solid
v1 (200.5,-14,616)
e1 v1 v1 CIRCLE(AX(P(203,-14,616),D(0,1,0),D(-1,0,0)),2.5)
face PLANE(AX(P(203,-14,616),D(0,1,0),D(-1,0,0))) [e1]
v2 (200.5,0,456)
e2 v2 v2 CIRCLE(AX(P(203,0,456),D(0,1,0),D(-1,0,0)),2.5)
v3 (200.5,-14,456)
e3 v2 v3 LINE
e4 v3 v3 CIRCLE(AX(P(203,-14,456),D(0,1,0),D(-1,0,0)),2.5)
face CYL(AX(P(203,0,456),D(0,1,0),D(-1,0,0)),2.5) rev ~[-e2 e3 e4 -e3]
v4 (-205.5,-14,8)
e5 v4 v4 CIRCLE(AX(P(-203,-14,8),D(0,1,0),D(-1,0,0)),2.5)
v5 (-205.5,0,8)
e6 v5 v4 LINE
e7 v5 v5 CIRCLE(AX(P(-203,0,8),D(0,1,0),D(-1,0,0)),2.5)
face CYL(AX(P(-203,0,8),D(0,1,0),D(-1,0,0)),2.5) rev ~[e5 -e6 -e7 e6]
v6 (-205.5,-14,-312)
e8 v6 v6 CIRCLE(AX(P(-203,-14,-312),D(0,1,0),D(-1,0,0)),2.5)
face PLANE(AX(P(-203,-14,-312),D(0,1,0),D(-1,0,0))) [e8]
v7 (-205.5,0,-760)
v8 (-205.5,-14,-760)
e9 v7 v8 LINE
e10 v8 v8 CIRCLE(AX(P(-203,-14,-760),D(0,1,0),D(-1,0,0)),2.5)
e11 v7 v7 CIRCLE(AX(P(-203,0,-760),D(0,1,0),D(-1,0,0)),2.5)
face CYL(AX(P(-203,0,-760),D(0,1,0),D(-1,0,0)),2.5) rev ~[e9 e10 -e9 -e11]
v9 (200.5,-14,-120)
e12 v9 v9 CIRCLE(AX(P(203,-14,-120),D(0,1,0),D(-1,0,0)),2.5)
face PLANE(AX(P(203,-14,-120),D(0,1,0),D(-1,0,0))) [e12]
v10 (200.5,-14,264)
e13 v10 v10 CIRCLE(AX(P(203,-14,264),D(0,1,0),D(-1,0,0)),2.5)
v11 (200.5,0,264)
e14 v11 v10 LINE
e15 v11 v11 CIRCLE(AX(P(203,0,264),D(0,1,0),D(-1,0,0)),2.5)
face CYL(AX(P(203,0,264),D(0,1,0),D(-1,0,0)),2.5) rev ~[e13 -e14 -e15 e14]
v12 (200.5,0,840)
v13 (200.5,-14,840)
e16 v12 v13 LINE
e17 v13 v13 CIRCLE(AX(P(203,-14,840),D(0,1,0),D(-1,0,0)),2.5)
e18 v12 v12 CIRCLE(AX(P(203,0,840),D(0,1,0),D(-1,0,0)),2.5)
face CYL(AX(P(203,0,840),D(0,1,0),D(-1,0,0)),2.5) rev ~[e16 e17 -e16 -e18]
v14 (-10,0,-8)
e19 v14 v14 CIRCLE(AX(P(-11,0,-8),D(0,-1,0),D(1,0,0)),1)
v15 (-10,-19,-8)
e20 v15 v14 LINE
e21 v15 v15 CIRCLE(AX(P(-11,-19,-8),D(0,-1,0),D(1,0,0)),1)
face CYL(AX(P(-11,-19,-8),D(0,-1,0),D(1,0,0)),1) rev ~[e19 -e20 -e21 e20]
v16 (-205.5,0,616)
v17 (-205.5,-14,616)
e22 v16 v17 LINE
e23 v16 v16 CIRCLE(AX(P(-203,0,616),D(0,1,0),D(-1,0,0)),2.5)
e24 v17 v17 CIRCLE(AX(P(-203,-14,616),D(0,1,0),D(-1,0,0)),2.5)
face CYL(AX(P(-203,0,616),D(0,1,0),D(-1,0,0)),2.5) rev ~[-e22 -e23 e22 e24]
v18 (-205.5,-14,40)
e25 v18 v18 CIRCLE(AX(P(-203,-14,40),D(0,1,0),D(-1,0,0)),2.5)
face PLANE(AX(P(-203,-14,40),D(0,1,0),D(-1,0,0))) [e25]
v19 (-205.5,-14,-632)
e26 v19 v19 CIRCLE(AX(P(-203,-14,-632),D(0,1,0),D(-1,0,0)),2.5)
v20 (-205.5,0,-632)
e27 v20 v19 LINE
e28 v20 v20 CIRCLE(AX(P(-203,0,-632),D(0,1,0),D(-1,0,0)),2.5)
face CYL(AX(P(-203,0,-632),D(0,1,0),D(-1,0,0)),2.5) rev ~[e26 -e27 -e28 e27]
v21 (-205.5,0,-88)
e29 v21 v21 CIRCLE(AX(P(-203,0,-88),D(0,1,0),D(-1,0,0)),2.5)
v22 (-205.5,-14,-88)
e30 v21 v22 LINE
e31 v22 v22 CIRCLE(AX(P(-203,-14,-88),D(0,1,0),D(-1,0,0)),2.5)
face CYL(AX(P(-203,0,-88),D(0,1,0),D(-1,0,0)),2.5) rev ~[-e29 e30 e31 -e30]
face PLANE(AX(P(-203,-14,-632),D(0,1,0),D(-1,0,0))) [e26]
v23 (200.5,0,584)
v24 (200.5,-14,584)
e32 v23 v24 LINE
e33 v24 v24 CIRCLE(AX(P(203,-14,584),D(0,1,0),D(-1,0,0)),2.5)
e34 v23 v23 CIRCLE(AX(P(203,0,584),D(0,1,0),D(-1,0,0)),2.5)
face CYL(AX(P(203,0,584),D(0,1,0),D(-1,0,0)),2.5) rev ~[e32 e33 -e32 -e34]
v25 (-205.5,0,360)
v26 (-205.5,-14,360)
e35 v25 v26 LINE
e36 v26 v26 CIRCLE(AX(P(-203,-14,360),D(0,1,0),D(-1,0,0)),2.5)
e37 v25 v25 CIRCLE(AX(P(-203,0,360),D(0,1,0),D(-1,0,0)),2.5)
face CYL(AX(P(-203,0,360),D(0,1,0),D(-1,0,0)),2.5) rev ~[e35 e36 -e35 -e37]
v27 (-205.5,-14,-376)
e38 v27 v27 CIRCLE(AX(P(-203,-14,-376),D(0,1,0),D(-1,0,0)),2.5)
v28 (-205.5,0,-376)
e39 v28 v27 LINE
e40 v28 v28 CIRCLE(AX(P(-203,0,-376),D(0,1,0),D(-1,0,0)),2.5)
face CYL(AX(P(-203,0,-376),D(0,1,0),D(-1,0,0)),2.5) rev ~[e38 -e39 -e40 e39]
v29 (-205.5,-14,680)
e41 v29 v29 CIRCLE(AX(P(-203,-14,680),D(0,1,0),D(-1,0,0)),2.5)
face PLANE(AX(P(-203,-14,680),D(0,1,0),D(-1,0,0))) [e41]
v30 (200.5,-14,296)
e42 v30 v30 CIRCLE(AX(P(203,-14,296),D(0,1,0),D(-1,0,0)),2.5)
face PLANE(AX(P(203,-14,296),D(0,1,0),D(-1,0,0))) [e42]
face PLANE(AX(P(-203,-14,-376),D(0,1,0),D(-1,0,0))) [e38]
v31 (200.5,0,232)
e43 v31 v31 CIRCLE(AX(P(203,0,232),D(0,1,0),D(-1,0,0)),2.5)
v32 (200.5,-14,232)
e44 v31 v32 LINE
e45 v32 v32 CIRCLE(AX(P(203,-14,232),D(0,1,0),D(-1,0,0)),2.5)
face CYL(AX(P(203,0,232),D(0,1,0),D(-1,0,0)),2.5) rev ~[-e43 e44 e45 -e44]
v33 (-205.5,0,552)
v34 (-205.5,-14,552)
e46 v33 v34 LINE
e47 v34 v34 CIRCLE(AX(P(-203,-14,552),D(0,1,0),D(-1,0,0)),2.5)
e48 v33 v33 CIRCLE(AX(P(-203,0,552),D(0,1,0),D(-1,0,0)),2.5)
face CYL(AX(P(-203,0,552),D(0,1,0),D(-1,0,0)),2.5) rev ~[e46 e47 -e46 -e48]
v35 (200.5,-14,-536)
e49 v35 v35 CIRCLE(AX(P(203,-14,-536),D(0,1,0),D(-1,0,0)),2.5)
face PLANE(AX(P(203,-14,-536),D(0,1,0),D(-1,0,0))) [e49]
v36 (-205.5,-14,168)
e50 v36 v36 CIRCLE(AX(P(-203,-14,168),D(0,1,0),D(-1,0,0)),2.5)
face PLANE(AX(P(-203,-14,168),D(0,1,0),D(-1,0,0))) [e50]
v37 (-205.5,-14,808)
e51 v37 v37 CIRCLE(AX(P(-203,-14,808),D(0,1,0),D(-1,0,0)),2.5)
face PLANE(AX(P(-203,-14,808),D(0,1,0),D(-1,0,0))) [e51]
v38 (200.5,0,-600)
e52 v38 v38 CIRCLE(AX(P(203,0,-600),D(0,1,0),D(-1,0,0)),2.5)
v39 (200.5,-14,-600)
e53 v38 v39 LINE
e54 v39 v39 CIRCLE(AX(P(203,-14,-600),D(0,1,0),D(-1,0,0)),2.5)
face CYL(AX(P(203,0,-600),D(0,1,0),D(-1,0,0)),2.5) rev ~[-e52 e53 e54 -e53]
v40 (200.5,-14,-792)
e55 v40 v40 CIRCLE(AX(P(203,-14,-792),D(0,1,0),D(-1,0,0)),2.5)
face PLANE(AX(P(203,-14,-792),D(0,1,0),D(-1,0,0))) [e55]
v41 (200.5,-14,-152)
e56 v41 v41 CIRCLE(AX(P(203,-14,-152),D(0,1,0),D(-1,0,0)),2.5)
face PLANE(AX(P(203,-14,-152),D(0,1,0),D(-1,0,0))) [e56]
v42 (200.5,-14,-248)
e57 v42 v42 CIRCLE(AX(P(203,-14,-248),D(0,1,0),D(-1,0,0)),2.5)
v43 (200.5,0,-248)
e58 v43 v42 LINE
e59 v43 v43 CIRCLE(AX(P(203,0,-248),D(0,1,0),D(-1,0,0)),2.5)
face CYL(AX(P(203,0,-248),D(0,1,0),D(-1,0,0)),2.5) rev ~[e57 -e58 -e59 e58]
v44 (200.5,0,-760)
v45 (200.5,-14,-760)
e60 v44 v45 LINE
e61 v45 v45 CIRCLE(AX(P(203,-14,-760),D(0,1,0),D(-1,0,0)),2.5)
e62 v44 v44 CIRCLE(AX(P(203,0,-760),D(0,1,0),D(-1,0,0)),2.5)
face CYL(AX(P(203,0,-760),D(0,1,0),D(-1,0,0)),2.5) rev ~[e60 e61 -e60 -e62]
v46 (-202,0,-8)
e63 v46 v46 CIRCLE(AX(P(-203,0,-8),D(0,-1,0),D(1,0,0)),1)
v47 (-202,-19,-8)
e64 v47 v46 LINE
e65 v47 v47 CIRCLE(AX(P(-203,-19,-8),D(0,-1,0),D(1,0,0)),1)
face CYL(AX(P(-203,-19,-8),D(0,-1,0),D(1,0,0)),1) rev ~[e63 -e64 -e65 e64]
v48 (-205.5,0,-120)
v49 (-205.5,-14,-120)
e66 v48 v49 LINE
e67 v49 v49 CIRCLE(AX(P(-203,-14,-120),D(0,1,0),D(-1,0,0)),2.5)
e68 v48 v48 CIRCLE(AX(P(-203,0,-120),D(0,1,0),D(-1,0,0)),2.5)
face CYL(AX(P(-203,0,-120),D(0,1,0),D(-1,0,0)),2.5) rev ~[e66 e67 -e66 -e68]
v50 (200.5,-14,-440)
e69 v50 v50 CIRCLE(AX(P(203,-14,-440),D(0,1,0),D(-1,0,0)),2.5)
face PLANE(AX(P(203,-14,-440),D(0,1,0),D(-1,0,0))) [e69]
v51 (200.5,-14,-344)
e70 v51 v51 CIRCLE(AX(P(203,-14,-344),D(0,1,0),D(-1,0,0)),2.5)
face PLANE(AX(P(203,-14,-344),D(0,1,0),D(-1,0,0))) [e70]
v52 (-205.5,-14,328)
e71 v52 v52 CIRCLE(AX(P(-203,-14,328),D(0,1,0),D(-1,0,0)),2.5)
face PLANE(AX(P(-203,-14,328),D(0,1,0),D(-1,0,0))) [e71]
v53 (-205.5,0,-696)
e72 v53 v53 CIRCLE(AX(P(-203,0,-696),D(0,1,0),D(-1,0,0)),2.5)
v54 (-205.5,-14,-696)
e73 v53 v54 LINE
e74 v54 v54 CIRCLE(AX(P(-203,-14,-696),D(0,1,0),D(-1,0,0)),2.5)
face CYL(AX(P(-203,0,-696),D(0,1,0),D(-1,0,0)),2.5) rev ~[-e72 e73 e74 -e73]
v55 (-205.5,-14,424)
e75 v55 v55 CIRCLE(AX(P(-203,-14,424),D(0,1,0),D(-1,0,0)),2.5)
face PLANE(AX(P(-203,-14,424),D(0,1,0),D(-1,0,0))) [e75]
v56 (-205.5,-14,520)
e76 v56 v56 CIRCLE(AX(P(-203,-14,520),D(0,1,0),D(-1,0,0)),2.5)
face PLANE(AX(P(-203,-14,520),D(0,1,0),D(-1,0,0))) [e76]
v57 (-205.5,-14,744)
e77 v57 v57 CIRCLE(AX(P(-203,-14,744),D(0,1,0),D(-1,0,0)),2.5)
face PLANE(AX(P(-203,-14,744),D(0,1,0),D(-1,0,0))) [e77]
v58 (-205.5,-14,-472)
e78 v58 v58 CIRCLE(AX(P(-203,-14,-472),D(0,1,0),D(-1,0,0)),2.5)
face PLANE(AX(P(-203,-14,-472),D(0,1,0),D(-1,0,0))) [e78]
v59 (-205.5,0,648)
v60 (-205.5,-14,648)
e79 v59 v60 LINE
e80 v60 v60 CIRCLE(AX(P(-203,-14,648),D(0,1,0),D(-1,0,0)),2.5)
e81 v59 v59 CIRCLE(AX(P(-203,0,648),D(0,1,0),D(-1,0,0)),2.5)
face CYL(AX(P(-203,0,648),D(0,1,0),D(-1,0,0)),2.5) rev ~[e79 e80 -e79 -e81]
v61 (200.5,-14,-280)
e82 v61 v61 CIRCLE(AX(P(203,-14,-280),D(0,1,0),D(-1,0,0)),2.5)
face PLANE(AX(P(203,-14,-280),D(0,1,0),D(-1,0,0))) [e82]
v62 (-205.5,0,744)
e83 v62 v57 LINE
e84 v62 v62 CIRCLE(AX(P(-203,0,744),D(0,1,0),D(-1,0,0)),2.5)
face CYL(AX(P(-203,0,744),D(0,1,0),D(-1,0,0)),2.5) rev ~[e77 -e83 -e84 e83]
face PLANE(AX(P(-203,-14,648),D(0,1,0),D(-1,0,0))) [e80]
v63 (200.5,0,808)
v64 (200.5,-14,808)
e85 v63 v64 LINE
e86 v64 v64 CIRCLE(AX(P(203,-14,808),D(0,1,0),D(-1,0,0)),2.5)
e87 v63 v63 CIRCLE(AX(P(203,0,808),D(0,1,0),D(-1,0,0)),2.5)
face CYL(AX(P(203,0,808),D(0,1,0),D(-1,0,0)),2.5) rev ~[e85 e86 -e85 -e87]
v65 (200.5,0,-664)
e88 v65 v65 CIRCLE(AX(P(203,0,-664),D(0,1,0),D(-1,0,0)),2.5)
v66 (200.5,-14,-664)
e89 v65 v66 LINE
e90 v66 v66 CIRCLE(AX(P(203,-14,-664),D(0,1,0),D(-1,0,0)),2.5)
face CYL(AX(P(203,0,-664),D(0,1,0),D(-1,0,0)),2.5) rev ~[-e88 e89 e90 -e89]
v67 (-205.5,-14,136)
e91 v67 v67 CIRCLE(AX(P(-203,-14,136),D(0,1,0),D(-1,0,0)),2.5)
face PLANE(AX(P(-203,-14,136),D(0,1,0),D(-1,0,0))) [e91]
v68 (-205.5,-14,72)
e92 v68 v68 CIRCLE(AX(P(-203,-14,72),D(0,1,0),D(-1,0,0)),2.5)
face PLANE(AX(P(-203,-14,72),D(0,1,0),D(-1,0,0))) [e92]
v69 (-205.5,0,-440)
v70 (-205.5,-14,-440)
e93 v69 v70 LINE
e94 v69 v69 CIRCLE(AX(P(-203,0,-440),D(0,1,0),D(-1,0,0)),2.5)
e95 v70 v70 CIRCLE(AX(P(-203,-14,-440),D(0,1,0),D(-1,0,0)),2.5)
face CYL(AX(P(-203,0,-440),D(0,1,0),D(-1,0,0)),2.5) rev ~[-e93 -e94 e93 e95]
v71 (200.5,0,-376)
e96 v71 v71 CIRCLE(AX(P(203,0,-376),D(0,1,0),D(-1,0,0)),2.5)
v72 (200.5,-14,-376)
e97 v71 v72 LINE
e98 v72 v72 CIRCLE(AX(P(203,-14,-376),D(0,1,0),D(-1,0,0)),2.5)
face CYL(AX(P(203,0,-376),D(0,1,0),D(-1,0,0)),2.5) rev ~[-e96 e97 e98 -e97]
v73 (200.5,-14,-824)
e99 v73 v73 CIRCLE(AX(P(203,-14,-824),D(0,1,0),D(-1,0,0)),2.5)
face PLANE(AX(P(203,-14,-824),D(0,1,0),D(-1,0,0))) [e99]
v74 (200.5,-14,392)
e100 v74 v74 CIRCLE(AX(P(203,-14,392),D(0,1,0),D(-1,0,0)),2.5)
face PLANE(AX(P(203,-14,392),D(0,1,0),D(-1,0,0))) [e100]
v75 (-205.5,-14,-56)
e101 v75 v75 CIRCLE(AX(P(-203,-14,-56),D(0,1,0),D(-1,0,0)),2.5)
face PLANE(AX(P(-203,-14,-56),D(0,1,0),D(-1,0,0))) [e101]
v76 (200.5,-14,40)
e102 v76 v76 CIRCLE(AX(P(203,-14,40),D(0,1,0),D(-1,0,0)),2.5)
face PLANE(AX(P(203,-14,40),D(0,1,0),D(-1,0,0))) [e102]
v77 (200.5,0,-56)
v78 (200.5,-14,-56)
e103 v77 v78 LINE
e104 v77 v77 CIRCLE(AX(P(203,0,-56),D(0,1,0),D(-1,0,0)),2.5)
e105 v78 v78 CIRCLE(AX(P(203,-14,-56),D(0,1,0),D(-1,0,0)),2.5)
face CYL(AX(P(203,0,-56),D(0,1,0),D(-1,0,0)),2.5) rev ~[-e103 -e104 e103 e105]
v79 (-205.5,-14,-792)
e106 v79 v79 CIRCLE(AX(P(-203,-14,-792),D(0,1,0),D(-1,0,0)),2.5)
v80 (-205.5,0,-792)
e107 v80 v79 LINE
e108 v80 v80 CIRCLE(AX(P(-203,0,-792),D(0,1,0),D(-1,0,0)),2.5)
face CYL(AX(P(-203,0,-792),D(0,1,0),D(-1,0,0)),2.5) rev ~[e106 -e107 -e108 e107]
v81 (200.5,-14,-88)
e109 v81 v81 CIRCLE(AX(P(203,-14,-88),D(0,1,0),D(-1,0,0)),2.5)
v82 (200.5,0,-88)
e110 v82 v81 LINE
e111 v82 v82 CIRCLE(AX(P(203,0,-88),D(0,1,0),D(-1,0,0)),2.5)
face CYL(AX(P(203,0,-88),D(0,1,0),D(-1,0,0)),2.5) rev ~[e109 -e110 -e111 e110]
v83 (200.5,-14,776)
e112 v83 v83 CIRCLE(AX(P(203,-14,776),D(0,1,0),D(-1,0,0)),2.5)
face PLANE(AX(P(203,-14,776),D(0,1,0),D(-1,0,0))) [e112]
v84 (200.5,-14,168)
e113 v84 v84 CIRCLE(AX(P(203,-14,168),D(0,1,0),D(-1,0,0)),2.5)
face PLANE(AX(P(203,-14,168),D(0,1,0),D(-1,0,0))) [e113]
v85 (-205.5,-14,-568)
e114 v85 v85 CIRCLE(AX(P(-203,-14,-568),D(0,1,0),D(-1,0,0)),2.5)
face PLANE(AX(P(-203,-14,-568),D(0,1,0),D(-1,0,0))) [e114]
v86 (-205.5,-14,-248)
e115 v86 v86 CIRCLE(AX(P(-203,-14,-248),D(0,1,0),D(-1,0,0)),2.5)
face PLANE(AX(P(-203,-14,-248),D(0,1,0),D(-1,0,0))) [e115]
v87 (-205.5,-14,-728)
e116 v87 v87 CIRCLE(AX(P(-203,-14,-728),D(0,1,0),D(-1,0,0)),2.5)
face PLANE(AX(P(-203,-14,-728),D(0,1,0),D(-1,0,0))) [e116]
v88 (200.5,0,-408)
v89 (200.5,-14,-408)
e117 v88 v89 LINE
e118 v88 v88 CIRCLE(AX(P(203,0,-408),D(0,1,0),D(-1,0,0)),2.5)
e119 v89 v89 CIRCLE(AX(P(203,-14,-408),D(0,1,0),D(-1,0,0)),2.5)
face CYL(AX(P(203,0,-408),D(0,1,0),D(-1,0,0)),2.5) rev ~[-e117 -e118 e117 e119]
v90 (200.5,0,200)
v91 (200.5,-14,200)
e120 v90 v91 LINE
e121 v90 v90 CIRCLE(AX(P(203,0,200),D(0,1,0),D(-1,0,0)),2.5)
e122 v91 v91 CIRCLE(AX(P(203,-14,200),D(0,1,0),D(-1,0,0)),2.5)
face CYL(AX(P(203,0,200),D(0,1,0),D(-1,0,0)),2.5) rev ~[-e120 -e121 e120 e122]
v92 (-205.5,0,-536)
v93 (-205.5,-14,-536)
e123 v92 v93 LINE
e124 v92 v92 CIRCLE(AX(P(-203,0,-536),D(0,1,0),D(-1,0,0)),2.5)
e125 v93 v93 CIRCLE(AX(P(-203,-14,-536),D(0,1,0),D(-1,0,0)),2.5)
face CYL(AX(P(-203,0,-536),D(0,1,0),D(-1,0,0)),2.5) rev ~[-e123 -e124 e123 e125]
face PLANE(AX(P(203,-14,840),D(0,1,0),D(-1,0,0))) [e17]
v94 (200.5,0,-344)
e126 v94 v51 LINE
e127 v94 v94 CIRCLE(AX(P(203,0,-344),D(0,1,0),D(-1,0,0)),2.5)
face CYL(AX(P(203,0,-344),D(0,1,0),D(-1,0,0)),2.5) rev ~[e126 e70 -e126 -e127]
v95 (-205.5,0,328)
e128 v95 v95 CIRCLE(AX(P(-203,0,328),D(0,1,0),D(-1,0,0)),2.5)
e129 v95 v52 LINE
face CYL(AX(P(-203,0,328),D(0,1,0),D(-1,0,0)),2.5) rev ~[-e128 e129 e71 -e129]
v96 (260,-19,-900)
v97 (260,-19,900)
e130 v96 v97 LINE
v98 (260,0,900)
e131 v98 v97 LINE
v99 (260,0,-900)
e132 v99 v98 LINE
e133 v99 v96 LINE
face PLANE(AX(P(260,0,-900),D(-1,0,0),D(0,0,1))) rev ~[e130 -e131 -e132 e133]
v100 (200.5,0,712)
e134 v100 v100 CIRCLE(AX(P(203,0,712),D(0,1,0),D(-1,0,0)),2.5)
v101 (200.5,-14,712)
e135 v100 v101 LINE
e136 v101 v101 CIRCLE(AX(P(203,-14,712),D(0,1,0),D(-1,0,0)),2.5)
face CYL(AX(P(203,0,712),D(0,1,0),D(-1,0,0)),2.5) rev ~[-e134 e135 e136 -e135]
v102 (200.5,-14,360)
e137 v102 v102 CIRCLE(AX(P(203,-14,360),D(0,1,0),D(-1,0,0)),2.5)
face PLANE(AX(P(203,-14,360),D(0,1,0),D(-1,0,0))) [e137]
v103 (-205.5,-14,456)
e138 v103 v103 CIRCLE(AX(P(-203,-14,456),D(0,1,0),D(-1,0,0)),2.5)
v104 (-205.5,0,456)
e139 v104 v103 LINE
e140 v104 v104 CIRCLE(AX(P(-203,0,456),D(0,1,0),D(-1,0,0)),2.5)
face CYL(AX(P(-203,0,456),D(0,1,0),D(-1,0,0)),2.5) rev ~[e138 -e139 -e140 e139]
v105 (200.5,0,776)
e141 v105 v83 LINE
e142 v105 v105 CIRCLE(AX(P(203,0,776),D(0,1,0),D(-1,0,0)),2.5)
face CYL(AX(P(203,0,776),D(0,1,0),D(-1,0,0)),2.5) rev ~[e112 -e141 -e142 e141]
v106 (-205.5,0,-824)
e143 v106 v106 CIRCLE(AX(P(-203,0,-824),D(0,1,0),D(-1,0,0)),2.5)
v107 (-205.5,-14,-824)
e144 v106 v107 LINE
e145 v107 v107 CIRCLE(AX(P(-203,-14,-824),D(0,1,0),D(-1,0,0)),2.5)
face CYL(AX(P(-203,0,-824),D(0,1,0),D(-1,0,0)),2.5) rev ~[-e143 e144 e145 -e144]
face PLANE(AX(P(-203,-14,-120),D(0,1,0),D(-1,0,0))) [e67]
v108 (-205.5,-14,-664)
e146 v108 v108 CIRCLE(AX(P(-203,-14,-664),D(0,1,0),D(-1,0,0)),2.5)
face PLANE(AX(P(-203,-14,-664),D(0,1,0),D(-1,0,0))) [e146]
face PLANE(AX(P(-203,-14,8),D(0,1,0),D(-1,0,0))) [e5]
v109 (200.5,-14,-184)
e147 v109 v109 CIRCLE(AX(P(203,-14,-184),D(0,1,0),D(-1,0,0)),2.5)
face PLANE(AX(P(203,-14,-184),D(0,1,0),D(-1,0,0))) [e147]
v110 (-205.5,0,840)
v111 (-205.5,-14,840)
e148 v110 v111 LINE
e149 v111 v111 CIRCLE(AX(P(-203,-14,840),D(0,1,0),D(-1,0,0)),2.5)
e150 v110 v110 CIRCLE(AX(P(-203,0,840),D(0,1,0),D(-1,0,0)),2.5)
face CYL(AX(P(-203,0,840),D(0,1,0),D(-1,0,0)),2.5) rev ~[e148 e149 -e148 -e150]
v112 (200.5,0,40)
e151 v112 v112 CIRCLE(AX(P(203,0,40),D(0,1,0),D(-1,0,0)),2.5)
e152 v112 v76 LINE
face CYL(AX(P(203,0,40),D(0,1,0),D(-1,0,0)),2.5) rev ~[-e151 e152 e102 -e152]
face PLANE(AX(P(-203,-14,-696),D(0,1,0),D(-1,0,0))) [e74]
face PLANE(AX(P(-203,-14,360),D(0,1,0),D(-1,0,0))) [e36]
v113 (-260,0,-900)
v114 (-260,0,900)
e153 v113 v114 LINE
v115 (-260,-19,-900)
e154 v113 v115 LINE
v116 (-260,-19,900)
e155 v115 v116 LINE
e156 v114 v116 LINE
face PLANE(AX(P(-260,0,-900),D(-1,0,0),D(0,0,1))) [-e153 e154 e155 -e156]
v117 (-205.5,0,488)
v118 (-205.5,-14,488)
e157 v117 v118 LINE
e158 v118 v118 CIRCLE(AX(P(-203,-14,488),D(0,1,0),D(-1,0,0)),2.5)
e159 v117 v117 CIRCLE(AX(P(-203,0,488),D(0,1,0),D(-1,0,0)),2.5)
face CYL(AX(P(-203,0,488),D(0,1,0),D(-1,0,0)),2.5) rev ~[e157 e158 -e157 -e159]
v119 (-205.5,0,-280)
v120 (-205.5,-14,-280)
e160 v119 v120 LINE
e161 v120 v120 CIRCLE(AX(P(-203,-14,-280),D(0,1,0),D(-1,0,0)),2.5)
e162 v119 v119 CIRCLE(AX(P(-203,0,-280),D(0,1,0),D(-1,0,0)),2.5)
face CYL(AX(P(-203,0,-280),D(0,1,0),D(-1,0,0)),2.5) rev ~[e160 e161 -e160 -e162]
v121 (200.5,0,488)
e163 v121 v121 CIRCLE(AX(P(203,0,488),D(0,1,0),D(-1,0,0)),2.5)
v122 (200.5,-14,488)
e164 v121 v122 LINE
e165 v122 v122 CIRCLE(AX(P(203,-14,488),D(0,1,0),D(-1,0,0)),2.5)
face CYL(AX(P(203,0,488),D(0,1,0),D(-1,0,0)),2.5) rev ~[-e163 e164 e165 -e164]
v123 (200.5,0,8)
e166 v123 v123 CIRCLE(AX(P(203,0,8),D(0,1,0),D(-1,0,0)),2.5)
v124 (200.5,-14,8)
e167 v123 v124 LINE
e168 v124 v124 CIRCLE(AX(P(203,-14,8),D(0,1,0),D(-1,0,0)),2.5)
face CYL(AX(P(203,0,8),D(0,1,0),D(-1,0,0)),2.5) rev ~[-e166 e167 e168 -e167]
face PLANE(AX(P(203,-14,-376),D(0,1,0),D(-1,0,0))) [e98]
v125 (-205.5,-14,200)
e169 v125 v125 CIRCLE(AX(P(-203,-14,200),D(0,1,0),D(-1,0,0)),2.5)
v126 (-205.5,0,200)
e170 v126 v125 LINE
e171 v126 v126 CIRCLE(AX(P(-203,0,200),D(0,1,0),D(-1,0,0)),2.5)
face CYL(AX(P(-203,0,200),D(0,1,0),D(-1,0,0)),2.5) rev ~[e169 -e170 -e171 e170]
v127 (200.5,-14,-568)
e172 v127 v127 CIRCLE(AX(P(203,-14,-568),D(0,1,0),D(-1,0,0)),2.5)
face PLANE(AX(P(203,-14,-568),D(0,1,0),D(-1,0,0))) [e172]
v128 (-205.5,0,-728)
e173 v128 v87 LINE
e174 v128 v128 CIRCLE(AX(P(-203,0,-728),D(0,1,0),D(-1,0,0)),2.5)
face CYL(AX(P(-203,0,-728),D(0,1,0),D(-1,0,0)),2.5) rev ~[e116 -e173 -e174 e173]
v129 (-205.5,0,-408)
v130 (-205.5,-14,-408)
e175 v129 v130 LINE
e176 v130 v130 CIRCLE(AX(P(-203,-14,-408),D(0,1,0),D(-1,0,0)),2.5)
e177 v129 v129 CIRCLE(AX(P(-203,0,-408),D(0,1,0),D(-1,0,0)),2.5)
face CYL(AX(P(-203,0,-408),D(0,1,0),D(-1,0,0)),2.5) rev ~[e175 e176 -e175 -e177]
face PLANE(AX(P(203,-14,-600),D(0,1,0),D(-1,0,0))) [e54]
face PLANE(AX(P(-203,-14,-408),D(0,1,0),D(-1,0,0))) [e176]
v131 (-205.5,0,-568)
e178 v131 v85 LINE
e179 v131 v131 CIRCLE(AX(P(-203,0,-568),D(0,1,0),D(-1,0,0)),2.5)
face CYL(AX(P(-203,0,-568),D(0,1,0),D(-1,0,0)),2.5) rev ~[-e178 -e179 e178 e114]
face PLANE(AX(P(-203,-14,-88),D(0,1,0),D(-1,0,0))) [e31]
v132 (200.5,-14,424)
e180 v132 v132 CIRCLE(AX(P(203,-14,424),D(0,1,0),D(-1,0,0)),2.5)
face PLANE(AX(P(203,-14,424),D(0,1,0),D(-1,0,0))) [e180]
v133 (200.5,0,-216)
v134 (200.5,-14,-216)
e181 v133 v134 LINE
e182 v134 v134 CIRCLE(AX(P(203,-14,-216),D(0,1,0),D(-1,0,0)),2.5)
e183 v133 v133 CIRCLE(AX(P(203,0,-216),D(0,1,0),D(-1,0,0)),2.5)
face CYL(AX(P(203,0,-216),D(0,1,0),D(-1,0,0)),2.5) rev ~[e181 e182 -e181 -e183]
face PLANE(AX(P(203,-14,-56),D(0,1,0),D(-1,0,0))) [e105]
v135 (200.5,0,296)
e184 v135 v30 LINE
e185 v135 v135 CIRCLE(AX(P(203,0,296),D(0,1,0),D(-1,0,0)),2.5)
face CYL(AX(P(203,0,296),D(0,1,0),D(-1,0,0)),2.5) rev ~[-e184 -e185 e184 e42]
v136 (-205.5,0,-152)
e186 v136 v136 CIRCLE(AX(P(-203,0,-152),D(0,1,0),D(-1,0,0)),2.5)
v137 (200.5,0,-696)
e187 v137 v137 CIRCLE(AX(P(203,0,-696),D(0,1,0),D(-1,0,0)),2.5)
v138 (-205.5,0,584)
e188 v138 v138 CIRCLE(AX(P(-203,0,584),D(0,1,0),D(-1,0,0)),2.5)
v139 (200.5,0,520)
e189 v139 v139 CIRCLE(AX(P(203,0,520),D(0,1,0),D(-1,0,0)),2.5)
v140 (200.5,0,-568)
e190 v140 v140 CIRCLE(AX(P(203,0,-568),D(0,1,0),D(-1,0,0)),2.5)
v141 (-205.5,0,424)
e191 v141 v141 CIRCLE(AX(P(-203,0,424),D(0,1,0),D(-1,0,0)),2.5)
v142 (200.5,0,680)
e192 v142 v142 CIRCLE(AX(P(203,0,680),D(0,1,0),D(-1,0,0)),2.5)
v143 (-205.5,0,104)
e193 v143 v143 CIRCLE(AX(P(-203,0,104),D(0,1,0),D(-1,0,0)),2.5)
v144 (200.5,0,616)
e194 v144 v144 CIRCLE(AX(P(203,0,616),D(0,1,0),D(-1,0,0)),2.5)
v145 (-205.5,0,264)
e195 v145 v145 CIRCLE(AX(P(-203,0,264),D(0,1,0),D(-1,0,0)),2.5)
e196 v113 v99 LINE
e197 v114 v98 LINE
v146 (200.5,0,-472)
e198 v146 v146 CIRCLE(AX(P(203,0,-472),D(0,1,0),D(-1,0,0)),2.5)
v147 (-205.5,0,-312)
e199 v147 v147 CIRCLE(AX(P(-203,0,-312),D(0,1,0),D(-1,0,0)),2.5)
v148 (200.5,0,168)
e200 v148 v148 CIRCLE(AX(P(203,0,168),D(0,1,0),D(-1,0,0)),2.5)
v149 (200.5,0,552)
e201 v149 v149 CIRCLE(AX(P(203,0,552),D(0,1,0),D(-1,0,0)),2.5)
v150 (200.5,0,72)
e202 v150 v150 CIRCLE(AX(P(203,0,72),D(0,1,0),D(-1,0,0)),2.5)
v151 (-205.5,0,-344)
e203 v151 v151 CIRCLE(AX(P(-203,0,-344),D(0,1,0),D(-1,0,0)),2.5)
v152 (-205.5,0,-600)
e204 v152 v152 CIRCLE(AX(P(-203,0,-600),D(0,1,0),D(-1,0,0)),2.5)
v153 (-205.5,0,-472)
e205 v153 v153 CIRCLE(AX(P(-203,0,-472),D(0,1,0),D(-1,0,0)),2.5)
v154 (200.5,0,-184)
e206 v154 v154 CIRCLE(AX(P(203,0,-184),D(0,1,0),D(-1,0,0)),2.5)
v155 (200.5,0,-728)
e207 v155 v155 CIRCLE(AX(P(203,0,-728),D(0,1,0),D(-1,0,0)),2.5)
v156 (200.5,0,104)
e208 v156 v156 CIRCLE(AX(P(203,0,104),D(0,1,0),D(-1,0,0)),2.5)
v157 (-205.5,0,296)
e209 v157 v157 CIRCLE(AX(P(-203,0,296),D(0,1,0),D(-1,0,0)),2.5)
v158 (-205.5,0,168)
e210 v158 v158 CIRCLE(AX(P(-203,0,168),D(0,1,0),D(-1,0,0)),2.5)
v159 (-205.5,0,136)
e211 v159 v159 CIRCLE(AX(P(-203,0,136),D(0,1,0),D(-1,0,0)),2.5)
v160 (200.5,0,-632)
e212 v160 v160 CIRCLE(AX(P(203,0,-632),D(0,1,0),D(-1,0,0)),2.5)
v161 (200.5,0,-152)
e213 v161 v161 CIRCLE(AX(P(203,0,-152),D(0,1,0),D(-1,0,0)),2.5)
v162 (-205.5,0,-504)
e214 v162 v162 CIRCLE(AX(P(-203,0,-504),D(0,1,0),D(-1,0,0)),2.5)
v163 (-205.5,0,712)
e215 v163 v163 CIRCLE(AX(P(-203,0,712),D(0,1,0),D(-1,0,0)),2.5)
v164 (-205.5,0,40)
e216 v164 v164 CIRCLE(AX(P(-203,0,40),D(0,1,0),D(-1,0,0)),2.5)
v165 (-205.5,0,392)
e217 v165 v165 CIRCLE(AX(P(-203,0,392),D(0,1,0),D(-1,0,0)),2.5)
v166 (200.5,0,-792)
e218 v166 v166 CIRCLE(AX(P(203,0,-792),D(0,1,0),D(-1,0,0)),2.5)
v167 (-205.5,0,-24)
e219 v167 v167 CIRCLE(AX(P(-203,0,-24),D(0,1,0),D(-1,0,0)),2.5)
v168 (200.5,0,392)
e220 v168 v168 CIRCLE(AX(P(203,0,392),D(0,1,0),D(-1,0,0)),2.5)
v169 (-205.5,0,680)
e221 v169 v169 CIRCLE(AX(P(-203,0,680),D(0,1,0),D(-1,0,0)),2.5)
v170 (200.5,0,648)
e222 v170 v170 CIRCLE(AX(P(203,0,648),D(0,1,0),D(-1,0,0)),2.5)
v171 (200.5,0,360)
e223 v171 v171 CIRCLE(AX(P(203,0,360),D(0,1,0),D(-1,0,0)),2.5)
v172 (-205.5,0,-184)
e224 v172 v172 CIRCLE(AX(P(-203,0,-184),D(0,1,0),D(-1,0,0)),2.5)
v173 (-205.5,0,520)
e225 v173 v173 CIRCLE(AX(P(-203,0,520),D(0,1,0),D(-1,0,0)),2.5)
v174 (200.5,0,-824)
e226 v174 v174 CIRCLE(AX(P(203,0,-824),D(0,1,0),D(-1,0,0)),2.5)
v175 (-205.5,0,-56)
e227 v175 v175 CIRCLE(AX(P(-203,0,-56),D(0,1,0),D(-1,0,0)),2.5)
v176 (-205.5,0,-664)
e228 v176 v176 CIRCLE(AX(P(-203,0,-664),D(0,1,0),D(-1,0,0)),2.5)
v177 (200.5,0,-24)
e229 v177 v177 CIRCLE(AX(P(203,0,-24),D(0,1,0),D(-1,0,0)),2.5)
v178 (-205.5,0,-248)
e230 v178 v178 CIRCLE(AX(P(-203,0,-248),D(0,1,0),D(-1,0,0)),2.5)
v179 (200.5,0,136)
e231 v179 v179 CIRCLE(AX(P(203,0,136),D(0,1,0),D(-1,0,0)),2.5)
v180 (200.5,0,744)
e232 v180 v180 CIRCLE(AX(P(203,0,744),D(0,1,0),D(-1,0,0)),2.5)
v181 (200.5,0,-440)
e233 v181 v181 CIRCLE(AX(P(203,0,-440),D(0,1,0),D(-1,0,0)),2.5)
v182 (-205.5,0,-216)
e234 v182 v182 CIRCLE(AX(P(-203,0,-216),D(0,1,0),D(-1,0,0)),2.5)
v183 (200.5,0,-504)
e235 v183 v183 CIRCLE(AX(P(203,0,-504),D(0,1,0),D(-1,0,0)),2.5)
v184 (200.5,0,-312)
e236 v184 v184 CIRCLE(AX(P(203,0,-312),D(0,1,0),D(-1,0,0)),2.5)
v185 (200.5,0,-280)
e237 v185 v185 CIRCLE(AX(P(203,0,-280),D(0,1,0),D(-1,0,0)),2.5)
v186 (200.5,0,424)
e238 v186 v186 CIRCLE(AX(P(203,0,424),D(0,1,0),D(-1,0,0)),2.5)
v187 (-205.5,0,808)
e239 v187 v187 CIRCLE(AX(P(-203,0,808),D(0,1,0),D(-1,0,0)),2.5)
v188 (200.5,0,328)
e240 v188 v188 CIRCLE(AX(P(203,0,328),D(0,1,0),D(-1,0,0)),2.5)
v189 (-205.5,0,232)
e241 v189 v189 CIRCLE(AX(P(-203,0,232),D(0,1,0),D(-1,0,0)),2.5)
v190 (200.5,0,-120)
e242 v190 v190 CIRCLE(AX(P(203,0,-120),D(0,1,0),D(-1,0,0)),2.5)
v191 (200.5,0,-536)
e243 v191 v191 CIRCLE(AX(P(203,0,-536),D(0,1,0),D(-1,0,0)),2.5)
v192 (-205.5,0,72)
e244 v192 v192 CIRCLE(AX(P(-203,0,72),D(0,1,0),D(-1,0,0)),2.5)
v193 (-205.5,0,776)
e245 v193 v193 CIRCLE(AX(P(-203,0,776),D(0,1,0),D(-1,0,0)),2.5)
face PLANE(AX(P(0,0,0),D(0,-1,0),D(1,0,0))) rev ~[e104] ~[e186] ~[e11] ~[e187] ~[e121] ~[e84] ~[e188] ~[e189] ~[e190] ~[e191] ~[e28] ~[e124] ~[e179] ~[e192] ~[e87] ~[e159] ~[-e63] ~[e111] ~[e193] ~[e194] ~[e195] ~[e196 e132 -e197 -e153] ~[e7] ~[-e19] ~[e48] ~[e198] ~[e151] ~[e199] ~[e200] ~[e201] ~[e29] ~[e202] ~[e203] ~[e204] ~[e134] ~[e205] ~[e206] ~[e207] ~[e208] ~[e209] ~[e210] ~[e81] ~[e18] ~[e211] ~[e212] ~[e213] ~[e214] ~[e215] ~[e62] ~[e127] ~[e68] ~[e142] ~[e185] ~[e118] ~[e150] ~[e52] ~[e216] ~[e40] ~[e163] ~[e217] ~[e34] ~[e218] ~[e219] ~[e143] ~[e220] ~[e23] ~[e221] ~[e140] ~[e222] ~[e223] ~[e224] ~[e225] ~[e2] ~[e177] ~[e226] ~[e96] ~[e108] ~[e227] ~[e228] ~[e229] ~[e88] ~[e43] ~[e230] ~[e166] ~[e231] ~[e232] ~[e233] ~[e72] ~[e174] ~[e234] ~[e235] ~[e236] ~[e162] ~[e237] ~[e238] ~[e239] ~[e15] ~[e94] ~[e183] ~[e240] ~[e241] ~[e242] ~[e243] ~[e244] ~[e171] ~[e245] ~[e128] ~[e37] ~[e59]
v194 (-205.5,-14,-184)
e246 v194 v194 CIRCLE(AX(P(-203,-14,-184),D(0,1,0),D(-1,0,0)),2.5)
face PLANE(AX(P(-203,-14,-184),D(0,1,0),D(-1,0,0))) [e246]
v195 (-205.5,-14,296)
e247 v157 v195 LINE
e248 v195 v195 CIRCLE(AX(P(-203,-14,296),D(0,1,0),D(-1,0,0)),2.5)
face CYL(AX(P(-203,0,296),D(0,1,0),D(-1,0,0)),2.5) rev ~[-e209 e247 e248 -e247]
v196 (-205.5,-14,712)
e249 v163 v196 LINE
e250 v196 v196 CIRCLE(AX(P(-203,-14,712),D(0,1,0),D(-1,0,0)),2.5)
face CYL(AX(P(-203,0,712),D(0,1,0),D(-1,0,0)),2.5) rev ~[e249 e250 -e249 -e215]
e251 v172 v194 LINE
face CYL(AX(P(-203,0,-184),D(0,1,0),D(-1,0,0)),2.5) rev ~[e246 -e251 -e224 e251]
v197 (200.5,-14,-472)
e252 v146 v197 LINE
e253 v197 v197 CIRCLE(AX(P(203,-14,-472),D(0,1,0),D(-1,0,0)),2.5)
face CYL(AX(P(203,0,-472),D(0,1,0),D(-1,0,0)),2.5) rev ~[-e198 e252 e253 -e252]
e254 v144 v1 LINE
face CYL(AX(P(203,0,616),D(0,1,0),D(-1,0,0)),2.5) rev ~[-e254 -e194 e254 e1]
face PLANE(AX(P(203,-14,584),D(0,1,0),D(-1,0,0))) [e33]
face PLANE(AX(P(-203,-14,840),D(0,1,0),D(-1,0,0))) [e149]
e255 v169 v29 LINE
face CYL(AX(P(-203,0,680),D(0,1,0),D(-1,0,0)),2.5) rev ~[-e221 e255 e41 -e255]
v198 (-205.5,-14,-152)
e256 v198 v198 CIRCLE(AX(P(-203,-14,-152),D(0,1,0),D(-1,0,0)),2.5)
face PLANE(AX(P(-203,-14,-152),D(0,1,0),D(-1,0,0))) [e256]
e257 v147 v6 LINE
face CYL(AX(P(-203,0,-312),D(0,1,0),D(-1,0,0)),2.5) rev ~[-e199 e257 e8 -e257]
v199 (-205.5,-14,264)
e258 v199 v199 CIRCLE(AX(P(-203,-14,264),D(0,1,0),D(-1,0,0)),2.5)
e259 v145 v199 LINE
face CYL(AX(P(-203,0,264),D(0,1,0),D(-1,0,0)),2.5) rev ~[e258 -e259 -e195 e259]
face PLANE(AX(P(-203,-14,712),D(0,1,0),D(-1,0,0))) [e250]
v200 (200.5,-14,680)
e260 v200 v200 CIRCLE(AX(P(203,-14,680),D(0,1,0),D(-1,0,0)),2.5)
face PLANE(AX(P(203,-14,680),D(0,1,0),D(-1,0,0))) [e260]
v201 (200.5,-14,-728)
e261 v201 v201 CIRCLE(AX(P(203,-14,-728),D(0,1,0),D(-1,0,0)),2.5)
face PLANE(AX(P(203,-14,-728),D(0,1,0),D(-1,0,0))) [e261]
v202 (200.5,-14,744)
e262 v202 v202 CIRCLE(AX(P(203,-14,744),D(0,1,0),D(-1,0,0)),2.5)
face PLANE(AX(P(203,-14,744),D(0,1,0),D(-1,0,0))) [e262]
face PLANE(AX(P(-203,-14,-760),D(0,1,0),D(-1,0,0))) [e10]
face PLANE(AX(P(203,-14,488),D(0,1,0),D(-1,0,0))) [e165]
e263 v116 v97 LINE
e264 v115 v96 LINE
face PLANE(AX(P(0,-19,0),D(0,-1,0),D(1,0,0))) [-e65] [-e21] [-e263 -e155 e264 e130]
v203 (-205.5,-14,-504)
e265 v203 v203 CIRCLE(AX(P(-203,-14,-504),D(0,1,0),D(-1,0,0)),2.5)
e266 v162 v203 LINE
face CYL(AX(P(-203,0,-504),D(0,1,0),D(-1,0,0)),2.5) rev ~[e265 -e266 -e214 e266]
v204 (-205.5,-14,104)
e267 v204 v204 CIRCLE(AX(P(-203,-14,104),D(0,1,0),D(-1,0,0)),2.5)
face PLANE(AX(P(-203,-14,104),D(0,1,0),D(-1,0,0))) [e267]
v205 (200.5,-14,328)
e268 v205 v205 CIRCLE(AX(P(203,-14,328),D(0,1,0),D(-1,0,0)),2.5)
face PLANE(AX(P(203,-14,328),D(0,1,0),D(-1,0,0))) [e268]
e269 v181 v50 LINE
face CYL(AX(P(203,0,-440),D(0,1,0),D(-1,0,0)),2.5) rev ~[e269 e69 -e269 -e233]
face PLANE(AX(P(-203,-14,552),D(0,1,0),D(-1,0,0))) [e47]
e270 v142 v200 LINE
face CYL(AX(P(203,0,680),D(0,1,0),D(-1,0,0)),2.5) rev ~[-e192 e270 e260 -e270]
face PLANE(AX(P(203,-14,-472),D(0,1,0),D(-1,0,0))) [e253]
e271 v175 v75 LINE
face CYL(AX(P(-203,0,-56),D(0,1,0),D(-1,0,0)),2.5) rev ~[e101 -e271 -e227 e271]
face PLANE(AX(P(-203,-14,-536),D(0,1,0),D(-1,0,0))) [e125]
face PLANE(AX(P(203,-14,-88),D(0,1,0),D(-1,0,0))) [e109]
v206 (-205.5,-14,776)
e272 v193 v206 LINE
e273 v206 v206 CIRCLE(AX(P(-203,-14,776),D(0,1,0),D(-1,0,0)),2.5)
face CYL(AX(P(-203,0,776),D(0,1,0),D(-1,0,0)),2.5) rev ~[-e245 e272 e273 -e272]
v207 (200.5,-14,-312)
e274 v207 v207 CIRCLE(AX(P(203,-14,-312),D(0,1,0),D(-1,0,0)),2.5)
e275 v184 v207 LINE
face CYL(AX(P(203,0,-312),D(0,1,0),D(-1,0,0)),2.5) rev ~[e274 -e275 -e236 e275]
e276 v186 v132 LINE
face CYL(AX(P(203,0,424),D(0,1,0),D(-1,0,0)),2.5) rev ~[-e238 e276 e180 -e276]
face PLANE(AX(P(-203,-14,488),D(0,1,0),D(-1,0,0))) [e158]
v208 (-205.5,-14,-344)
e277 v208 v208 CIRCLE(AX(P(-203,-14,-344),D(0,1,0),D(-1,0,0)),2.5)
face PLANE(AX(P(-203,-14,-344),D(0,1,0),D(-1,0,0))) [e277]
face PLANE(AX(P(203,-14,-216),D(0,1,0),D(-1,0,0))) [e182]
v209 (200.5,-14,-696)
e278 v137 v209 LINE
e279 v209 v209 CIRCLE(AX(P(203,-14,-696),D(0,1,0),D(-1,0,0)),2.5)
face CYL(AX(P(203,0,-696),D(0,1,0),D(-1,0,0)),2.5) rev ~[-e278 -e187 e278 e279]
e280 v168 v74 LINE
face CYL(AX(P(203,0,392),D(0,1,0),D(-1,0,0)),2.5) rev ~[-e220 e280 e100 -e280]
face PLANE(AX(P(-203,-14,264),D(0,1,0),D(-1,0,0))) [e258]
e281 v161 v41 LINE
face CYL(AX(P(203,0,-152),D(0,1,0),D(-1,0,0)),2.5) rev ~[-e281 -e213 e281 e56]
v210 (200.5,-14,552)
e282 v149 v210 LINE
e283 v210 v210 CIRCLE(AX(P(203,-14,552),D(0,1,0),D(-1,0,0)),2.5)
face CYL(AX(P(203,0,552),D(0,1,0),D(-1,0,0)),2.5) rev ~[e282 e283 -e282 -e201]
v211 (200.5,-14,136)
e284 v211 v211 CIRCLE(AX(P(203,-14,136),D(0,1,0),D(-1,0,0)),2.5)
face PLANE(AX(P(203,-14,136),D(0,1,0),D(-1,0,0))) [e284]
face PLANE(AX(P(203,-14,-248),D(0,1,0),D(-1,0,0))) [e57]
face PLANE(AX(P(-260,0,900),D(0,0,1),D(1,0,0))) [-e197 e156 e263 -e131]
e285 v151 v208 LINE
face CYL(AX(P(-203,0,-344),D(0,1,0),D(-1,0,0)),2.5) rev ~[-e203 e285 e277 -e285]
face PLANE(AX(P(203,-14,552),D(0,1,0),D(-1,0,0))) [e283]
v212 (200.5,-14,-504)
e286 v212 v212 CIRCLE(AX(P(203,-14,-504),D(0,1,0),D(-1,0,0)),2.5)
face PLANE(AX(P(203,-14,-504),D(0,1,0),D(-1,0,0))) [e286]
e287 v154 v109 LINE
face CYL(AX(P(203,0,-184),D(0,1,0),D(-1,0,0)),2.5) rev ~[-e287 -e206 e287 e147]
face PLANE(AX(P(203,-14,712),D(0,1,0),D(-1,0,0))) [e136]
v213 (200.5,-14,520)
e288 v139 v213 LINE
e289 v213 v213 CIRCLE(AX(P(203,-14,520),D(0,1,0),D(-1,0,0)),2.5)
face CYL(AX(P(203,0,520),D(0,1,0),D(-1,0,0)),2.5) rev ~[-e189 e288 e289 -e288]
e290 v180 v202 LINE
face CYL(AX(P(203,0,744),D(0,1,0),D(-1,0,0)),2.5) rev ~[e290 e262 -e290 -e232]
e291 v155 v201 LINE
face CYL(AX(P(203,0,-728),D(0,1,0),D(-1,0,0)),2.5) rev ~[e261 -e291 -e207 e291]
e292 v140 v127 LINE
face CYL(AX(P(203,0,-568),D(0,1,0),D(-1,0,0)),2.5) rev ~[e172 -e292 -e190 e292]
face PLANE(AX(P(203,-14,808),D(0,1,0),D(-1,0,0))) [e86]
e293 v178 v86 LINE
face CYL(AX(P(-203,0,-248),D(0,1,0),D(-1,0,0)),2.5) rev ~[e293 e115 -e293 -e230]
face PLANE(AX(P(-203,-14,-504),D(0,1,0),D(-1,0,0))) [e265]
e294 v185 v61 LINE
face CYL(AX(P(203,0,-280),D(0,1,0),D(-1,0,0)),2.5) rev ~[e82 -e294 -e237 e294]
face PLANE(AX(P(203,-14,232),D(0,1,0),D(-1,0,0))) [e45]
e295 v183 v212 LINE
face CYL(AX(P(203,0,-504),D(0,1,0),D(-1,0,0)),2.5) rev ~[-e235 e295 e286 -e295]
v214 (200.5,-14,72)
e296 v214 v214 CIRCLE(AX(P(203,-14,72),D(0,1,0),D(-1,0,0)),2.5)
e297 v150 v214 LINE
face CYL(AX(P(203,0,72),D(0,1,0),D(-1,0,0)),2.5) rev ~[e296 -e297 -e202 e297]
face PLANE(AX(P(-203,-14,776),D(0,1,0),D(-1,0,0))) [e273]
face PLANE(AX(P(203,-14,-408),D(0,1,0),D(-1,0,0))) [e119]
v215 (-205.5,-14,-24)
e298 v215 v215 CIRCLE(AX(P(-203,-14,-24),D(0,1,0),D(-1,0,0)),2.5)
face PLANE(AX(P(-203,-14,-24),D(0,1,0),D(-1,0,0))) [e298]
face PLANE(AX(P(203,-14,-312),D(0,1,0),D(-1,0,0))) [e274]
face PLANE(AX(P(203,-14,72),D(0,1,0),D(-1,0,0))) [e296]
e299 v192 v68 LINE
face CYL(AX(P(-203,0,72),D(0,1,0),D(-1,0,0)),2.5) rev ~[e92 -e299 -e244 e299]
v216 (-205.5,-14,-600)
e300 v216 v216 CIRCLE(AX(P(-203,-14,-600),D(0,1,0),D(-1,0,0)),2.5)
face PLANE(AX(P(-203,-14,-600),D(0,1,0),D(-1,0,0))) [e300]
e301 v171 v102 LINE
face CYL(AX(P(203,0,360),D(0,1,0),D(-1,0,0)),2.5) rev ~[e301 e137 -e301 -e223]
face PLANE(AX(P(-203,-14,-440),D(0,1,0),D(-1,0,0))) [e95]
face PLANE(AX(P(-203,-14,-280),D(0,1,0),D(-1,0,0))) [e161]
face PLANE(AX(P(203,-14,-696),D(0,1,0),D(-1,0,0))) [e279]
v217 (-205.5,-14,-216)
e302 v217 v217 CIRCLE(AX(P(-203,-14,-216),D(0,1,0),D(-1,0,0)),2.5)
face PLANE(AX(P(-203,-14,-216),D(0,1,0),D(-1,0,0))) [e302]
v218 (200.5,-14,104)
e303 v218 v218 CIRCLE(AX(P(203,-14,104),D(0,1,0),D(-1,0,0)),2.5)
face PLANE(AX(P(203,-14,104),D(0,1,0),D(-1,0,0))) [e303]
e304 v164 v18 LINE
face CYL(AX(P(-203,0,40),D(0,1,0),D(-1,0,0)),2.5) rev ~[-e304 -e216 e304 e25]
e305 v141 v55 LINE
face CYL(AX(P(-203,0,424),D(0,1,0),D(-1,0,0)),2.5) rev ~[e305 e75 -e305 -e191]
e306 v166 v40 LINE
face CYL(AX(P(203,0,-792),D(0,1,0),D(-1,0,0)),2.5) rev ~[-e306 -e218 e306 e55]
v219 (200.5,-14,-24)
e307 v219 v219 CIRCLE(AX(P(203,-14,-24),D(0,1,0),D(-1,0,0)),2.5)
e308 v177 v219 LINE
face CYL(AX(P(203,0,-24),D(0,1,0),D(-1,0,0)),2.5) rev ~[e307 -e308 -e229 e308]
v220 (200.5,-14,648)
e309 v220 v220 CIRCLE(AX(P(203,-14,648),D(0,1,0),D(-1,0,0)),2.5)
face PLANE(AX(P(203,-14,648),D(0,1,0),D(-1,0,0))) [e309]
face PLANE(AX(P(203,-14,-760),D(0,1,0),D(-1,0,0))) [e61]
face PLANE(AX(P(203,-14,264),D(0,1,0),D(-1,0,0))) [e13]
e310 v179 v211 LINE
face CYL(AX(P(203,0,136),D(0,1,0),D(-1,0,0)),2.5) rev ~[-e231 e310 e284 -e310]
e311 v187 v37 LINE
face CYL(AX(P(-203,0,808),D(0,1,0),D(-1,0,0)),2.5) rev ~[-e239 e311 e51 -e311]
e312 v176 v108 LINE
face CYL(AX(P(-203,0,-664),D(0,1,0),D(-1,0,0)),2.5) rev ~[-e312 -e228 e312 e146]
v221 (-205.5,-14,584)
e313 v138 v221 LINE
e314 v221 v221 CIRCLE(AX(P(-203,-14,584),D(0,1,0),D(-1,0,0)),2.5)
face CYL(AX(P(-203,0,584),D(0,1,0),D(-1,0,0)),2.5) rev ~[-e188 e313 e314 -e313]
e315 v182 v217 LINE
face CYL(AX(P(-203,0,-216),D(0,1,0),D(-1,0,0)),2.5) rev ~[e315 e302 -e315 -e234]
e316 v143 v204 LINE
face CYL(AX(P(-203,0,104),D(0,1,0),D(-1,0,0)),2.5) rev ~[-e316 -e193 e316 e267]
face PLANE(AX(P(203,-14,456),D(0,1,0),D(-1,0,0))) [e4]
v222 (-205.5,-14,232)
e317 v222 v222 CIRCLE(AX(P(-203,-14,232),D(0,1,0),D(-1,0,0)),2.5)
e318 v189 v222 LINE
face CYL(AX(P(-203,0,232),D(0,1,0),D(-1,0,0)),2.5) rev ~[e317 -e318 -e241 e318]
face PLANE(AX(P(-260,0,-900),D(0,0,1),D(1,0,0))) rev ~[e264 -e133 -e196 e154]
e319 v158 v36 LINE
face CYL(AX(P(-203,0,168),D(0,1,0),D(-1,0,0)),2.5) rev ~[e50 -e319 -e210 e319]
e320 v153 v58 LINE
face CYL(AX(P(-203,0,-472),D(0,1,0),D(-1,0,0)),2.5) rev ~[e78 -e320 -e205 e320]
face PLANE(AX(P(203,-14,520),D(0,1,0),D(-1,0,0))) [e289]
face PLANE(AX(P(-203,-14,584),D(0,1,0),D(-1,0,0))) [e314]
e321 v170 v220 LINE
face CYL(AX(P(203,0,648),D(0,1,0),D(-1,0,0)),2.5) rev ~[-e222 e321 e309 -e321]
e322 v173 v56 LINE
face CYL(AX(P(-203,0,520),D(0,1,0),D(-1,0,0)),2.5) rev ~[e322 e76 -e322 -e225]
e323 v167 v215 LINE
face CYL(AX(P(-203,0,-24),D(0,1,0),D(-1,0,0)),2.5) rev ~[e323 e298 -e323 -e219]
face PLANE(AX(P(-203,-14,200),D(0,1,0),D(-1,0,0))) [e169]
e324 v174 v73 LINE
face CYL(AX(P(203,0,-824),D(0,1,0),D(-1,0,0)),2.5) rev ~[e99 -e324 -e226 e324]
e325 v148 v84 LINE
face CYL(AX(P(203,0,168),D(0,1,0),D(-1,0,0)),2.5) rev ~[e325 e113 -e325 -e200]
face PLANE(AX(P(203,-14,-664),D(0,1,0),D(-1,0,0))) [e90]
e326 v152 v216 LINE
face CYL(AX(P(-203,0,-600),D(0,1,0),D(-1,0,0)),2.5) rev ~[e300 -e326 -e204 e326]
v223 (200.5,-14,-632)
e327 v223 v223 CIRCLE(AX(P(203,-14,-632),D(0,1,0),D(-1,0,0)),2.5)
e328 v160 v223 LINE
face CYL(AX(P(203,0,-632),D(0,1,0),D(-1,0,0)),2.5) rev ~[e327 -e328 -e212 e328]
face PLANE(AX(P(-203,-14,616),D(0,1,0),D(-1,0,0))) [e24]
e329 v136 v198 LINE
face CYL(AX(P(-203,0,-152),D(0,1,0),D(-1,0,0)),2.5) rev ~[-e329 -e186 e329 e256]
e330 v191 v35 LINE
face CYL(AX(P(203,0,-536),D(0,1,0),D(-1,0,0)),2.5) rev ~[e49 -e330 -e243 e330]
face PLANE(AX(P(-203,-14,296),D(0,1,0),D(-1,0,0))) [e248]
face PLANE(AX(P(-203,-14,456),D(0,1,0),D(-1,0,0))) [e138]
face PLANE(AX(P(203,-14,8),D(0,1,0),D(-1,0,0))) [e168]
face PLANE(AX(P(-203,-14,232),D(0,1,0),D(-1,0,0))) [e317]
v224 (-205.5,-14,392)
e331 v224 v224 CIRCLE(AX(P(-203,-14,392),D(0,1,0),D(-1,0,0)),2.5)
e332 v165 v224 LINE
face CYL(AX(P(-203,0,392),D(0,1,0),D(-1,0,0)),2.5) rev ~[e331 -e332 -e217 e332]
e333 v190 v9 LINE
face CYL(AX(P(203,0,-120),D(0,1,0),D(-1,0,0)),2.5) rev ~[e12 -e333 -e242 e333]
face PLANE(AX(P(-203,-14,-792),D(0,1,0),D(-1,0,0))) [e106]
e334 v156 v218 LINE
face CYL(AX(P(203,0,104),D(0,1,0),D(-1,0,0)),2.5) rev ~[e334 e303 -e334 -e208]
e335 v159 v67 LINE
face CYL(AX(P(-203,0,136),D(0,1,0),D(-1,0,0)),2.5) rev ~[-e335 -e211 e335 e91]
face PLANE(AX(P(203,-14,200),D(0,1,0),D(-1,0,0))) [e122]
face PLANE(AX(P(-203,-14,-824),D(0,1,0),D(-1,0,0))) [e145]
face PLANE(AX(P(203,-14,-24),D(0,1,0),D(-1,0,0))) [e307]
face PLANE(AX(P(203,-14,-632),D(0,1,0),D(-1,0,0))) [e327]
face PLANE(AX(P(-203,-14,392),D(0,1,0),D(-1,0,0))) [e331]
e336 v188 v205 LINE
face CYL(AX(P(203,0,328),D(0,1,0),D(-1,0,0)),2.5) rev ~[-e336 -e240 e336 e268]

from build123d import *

# Parameters (mm, degrees)
F0_W     = 520
F0_H     = 1800
F1_DEPTH = 19
F2_R     = 2.5
F3_DEPTH = 14
F4_R     = 1
F5_DEPTH = 25


with BuildPart() as f1:
    # F0 (on Front) → F1 (new body)
    with BuildSketch(Plane.XZ):
        Rectangle(F0_W, F0_H)
    extrude(amount=F1_DEPTH)

    # F2 (on face) → F3 (cut)
    with BuildSketch(Plane(origin=(0, 0, 0), x_dir=(-1, 0, 0), z_dir=(0, 1, 0))):
        with Locations((-203, 840)):
            Circle(F2_R)
        with Locations((-203, 808)):
            Circle(F2_R)
        with Locations((-203, 776)):
            Circle(F2_R)
        with Locations((-203, 744)):
            Circle(F2_R)
        with Locations((-203, 712)):
            Circle(F2_R)
        with Locations((-203, 680)):
            Circle(F2_R)
        with Locations((-203, 648)):
            Circle(F2_R)
        with Locations((-203, 616)):
            Circle(F2_R)
        with Locations((-203, 584)):
            Circle(F2_R)
        with Locations((-203, 552)):
            Circle(F2_R)
        with Locations((-203, 520)):
            Circle(F2_R)
        with Locations((-203, 488)):
            Circle(F2_R)
        with Locations((-203, 456)):
            Circle(F2_R)
        with Locations((-203, 424)):
            Circle(F2_R)
        with Locations((-203, 392)):
            Circle(F2_R)
        with Locations((-203, 360)):
            Circle(F2_R)
        with Locations((-203, 328)):
            Circle(F2_R)
        with Locations((-203, 296)):
            Circle(F2_R)
        with Locations((-203, 264)):
            Circle(F2_R)
        with Locations((-203, 232)):
            Circle(F2_R)
        with Locations((-203, 200)):
            Circle(F2_R)
        with Locations((-203, 168)):
            Circle(F2_R)
        with Locations((-203, 136)):
            Circle(F2_R)
        with Locations((-203, 104)):
            Circle(F2_R)
        with Locations((-203, 72)):
            Circle(F2_R)
        with Locations((-203, 40)):
            Circle(F2_R)
        with Locations((-203, 8)):
            Circle(F2_R)
        with Locations((-203, -24)):
            Circle(F2_R)
        with Locations((-203, -56)):
            Circle(F2_R)
        with Locations((-203, -88)):
            Circle(F2_R)
        with Locations((-203, -120)):
            Circle(F2_R)
        with Locations((-203, -152)):
            Circle(F2_R)
        with Locations((-203, -184)):
            Circle(F2_R)
        with Locations((-203, -216)):
            Circle(F2_R)
        with Locations((-203, -248)):
            Circle(F2_R)
        with Locations((-203, -280)):
            Circle(F2_R)
        with Locations((-203, -312)):
            Circle(F2_R)
        with Locations((-203, -344)):
            Circle(F2_R)
        with Locations((-203, -376)):
            Circle(F2_R)
        with Locations((-203, -408)):
            Circle(F2_R)
        with Locations((-203, -440)):
            Circle(F2_R)
        with Locations((-203, -472)):
            Circle(F2_R)
        with Locations((-203, -504)):
            Circle(F2_R)
        with Locations((-203, -536)):
            Circle(F2_R)
        with Locations((-203, -568)):
            Circle(F2_R)
        with Locations((-203, -600)):
            Circle(F2_R)
        with Locations((-203, -632)):
            Circle(F2_R)
        with Locations((-203, -664)):
            Circle(F2_R)
        with Locations((-203, -696)):
            Circle(F2_R)
        with Locations((-203, -728)):
            Circle(F2_R)
        with Locations((203, 840)):
            Circle(F2_R)
        with Locations((203, 808)):
            Circle(F2_R)
        with Locations((203, 776)):
            Circle(F2_R)
        with Locations((203, 744)):
            Circle(F2_R)
        with Locations((203, 712)):
            Circle(F2_R)
        with Locations((203, 680)):
            Circle(F2_R)
        with Locations((203, 648)):
            Circle(F2_R)
        with Locations((203, 616)):
            Circle(F2_R)
        with Locations((203, 584)):
            Circle(F2_R)
        with Locations((203, 552)):
            Circle(F2_R)
        with Locations((203, 520)):
            Circle(F2_R)
        with Locations((203, 488)):
            Circle(F2_R)
        with Locations((203, 456)):
            Circle(F2_R)
        with Locations((203, 424)):
            Circle(F2_R)
        with Locations((203, 392)):
            Circle(F2_R)
        with Locations((203, 360)):
            Circle(F2_R)
        with Locations((203, 328)):
            Circle(F2_R)
        with Locations((203, 296)):
            Circle(F2_R)
        with Locations((203, 264)):
            Circle(F2_R)
        with Locations((203, 232)):
            Circle(F2_R)
        with Locations((203, 200)):
            Circle(F2_R)
        with Locations((203, 168)):
            Circle(F2_R)
        with Locations((203, 136)):
            Circle(F2_R)
        with Locations((203, 104)):
            Circle(F2_R)
        with Locations((203, 72)):
            Circle(F2_R)
        with Locations((203, 40)):
            Circle(F2_R)
        with Locations((203, 8)):
            Circle(F2_R)
        with Locations((203, -24)):
            Circle(F2_R)
        with Locations((203, -56)):
            Circle(F2_R)
        with Locations((203, -88)):
            Circle(F2_R)
        with Locations((203, -120)):
            Circle(F2_R)
        with Locations((203, -152)):
            Circle(F2_R)
        with Locations((203, -184)):
            Circle(F2_R)
        with Locations((203, -216)):
            Circle(F2_R)
        with Locations((203, -248)):
            Circle(F2_R)
        with Locations((203, -280)):
            Circle(F2_R)
        with Locations((203, -312)):
            Circle(F2_R)
        with Locations((203, -344)):
            Circle(F2_R)
        with Locations((203, -376)):
            Circle(F2_R)
        with Locations((203, -408)):
            Circle(F2_R)
        with Locations((203, -440)):
            Circle(F2_R)
        with Locations((203, -472)):
            Circle(F2_R)
        with Locations((203, -504)):
            Circle(F2_R)
        with Locations((203, -536)):
            Circle(F2_R)
        with Locations((203, -568)):
            Circle(F2_R)
        with Locations((203, -600)):
            Circle(F2_R)
        with Locations((203, -632)):
            Circle(F2_R)
        with Locations((203, -664)):
            Circle(F2_R)
        with Locations((203, -696)):
            Circle(F2_R)
        with Locations((203, -728)):
            Circle(F2_R)
        with Locations((-203, -760)):
            Circle(F2_R)
        with Locations((-203, -792)):
            Circle(F2_R)
        with Locations((-203, -824)):
            Circle(F2_R)
        with Locations((203, -760)):
            Circle(F2_R)
        with Locations((203, -792)):
            Circle(F2_R)
        with Locations((203, -824)):
            Circle(F2_R)
    extrude(amount=-F3_DEPTH, mode=Mode.SUBTRACT)

    # F4 (on face) → F5 (cut)
    with BuildSketch(Plane.XZ.offset(19)):
        with Locations((-203, -8)):
            Circle(F4_R)
        with Locations((-11, -8)):
            Circle(F4_R)
    extrude(amount=-F5_DEPTH, mode=Mode.SUBTRACT)


solid = f1.part
